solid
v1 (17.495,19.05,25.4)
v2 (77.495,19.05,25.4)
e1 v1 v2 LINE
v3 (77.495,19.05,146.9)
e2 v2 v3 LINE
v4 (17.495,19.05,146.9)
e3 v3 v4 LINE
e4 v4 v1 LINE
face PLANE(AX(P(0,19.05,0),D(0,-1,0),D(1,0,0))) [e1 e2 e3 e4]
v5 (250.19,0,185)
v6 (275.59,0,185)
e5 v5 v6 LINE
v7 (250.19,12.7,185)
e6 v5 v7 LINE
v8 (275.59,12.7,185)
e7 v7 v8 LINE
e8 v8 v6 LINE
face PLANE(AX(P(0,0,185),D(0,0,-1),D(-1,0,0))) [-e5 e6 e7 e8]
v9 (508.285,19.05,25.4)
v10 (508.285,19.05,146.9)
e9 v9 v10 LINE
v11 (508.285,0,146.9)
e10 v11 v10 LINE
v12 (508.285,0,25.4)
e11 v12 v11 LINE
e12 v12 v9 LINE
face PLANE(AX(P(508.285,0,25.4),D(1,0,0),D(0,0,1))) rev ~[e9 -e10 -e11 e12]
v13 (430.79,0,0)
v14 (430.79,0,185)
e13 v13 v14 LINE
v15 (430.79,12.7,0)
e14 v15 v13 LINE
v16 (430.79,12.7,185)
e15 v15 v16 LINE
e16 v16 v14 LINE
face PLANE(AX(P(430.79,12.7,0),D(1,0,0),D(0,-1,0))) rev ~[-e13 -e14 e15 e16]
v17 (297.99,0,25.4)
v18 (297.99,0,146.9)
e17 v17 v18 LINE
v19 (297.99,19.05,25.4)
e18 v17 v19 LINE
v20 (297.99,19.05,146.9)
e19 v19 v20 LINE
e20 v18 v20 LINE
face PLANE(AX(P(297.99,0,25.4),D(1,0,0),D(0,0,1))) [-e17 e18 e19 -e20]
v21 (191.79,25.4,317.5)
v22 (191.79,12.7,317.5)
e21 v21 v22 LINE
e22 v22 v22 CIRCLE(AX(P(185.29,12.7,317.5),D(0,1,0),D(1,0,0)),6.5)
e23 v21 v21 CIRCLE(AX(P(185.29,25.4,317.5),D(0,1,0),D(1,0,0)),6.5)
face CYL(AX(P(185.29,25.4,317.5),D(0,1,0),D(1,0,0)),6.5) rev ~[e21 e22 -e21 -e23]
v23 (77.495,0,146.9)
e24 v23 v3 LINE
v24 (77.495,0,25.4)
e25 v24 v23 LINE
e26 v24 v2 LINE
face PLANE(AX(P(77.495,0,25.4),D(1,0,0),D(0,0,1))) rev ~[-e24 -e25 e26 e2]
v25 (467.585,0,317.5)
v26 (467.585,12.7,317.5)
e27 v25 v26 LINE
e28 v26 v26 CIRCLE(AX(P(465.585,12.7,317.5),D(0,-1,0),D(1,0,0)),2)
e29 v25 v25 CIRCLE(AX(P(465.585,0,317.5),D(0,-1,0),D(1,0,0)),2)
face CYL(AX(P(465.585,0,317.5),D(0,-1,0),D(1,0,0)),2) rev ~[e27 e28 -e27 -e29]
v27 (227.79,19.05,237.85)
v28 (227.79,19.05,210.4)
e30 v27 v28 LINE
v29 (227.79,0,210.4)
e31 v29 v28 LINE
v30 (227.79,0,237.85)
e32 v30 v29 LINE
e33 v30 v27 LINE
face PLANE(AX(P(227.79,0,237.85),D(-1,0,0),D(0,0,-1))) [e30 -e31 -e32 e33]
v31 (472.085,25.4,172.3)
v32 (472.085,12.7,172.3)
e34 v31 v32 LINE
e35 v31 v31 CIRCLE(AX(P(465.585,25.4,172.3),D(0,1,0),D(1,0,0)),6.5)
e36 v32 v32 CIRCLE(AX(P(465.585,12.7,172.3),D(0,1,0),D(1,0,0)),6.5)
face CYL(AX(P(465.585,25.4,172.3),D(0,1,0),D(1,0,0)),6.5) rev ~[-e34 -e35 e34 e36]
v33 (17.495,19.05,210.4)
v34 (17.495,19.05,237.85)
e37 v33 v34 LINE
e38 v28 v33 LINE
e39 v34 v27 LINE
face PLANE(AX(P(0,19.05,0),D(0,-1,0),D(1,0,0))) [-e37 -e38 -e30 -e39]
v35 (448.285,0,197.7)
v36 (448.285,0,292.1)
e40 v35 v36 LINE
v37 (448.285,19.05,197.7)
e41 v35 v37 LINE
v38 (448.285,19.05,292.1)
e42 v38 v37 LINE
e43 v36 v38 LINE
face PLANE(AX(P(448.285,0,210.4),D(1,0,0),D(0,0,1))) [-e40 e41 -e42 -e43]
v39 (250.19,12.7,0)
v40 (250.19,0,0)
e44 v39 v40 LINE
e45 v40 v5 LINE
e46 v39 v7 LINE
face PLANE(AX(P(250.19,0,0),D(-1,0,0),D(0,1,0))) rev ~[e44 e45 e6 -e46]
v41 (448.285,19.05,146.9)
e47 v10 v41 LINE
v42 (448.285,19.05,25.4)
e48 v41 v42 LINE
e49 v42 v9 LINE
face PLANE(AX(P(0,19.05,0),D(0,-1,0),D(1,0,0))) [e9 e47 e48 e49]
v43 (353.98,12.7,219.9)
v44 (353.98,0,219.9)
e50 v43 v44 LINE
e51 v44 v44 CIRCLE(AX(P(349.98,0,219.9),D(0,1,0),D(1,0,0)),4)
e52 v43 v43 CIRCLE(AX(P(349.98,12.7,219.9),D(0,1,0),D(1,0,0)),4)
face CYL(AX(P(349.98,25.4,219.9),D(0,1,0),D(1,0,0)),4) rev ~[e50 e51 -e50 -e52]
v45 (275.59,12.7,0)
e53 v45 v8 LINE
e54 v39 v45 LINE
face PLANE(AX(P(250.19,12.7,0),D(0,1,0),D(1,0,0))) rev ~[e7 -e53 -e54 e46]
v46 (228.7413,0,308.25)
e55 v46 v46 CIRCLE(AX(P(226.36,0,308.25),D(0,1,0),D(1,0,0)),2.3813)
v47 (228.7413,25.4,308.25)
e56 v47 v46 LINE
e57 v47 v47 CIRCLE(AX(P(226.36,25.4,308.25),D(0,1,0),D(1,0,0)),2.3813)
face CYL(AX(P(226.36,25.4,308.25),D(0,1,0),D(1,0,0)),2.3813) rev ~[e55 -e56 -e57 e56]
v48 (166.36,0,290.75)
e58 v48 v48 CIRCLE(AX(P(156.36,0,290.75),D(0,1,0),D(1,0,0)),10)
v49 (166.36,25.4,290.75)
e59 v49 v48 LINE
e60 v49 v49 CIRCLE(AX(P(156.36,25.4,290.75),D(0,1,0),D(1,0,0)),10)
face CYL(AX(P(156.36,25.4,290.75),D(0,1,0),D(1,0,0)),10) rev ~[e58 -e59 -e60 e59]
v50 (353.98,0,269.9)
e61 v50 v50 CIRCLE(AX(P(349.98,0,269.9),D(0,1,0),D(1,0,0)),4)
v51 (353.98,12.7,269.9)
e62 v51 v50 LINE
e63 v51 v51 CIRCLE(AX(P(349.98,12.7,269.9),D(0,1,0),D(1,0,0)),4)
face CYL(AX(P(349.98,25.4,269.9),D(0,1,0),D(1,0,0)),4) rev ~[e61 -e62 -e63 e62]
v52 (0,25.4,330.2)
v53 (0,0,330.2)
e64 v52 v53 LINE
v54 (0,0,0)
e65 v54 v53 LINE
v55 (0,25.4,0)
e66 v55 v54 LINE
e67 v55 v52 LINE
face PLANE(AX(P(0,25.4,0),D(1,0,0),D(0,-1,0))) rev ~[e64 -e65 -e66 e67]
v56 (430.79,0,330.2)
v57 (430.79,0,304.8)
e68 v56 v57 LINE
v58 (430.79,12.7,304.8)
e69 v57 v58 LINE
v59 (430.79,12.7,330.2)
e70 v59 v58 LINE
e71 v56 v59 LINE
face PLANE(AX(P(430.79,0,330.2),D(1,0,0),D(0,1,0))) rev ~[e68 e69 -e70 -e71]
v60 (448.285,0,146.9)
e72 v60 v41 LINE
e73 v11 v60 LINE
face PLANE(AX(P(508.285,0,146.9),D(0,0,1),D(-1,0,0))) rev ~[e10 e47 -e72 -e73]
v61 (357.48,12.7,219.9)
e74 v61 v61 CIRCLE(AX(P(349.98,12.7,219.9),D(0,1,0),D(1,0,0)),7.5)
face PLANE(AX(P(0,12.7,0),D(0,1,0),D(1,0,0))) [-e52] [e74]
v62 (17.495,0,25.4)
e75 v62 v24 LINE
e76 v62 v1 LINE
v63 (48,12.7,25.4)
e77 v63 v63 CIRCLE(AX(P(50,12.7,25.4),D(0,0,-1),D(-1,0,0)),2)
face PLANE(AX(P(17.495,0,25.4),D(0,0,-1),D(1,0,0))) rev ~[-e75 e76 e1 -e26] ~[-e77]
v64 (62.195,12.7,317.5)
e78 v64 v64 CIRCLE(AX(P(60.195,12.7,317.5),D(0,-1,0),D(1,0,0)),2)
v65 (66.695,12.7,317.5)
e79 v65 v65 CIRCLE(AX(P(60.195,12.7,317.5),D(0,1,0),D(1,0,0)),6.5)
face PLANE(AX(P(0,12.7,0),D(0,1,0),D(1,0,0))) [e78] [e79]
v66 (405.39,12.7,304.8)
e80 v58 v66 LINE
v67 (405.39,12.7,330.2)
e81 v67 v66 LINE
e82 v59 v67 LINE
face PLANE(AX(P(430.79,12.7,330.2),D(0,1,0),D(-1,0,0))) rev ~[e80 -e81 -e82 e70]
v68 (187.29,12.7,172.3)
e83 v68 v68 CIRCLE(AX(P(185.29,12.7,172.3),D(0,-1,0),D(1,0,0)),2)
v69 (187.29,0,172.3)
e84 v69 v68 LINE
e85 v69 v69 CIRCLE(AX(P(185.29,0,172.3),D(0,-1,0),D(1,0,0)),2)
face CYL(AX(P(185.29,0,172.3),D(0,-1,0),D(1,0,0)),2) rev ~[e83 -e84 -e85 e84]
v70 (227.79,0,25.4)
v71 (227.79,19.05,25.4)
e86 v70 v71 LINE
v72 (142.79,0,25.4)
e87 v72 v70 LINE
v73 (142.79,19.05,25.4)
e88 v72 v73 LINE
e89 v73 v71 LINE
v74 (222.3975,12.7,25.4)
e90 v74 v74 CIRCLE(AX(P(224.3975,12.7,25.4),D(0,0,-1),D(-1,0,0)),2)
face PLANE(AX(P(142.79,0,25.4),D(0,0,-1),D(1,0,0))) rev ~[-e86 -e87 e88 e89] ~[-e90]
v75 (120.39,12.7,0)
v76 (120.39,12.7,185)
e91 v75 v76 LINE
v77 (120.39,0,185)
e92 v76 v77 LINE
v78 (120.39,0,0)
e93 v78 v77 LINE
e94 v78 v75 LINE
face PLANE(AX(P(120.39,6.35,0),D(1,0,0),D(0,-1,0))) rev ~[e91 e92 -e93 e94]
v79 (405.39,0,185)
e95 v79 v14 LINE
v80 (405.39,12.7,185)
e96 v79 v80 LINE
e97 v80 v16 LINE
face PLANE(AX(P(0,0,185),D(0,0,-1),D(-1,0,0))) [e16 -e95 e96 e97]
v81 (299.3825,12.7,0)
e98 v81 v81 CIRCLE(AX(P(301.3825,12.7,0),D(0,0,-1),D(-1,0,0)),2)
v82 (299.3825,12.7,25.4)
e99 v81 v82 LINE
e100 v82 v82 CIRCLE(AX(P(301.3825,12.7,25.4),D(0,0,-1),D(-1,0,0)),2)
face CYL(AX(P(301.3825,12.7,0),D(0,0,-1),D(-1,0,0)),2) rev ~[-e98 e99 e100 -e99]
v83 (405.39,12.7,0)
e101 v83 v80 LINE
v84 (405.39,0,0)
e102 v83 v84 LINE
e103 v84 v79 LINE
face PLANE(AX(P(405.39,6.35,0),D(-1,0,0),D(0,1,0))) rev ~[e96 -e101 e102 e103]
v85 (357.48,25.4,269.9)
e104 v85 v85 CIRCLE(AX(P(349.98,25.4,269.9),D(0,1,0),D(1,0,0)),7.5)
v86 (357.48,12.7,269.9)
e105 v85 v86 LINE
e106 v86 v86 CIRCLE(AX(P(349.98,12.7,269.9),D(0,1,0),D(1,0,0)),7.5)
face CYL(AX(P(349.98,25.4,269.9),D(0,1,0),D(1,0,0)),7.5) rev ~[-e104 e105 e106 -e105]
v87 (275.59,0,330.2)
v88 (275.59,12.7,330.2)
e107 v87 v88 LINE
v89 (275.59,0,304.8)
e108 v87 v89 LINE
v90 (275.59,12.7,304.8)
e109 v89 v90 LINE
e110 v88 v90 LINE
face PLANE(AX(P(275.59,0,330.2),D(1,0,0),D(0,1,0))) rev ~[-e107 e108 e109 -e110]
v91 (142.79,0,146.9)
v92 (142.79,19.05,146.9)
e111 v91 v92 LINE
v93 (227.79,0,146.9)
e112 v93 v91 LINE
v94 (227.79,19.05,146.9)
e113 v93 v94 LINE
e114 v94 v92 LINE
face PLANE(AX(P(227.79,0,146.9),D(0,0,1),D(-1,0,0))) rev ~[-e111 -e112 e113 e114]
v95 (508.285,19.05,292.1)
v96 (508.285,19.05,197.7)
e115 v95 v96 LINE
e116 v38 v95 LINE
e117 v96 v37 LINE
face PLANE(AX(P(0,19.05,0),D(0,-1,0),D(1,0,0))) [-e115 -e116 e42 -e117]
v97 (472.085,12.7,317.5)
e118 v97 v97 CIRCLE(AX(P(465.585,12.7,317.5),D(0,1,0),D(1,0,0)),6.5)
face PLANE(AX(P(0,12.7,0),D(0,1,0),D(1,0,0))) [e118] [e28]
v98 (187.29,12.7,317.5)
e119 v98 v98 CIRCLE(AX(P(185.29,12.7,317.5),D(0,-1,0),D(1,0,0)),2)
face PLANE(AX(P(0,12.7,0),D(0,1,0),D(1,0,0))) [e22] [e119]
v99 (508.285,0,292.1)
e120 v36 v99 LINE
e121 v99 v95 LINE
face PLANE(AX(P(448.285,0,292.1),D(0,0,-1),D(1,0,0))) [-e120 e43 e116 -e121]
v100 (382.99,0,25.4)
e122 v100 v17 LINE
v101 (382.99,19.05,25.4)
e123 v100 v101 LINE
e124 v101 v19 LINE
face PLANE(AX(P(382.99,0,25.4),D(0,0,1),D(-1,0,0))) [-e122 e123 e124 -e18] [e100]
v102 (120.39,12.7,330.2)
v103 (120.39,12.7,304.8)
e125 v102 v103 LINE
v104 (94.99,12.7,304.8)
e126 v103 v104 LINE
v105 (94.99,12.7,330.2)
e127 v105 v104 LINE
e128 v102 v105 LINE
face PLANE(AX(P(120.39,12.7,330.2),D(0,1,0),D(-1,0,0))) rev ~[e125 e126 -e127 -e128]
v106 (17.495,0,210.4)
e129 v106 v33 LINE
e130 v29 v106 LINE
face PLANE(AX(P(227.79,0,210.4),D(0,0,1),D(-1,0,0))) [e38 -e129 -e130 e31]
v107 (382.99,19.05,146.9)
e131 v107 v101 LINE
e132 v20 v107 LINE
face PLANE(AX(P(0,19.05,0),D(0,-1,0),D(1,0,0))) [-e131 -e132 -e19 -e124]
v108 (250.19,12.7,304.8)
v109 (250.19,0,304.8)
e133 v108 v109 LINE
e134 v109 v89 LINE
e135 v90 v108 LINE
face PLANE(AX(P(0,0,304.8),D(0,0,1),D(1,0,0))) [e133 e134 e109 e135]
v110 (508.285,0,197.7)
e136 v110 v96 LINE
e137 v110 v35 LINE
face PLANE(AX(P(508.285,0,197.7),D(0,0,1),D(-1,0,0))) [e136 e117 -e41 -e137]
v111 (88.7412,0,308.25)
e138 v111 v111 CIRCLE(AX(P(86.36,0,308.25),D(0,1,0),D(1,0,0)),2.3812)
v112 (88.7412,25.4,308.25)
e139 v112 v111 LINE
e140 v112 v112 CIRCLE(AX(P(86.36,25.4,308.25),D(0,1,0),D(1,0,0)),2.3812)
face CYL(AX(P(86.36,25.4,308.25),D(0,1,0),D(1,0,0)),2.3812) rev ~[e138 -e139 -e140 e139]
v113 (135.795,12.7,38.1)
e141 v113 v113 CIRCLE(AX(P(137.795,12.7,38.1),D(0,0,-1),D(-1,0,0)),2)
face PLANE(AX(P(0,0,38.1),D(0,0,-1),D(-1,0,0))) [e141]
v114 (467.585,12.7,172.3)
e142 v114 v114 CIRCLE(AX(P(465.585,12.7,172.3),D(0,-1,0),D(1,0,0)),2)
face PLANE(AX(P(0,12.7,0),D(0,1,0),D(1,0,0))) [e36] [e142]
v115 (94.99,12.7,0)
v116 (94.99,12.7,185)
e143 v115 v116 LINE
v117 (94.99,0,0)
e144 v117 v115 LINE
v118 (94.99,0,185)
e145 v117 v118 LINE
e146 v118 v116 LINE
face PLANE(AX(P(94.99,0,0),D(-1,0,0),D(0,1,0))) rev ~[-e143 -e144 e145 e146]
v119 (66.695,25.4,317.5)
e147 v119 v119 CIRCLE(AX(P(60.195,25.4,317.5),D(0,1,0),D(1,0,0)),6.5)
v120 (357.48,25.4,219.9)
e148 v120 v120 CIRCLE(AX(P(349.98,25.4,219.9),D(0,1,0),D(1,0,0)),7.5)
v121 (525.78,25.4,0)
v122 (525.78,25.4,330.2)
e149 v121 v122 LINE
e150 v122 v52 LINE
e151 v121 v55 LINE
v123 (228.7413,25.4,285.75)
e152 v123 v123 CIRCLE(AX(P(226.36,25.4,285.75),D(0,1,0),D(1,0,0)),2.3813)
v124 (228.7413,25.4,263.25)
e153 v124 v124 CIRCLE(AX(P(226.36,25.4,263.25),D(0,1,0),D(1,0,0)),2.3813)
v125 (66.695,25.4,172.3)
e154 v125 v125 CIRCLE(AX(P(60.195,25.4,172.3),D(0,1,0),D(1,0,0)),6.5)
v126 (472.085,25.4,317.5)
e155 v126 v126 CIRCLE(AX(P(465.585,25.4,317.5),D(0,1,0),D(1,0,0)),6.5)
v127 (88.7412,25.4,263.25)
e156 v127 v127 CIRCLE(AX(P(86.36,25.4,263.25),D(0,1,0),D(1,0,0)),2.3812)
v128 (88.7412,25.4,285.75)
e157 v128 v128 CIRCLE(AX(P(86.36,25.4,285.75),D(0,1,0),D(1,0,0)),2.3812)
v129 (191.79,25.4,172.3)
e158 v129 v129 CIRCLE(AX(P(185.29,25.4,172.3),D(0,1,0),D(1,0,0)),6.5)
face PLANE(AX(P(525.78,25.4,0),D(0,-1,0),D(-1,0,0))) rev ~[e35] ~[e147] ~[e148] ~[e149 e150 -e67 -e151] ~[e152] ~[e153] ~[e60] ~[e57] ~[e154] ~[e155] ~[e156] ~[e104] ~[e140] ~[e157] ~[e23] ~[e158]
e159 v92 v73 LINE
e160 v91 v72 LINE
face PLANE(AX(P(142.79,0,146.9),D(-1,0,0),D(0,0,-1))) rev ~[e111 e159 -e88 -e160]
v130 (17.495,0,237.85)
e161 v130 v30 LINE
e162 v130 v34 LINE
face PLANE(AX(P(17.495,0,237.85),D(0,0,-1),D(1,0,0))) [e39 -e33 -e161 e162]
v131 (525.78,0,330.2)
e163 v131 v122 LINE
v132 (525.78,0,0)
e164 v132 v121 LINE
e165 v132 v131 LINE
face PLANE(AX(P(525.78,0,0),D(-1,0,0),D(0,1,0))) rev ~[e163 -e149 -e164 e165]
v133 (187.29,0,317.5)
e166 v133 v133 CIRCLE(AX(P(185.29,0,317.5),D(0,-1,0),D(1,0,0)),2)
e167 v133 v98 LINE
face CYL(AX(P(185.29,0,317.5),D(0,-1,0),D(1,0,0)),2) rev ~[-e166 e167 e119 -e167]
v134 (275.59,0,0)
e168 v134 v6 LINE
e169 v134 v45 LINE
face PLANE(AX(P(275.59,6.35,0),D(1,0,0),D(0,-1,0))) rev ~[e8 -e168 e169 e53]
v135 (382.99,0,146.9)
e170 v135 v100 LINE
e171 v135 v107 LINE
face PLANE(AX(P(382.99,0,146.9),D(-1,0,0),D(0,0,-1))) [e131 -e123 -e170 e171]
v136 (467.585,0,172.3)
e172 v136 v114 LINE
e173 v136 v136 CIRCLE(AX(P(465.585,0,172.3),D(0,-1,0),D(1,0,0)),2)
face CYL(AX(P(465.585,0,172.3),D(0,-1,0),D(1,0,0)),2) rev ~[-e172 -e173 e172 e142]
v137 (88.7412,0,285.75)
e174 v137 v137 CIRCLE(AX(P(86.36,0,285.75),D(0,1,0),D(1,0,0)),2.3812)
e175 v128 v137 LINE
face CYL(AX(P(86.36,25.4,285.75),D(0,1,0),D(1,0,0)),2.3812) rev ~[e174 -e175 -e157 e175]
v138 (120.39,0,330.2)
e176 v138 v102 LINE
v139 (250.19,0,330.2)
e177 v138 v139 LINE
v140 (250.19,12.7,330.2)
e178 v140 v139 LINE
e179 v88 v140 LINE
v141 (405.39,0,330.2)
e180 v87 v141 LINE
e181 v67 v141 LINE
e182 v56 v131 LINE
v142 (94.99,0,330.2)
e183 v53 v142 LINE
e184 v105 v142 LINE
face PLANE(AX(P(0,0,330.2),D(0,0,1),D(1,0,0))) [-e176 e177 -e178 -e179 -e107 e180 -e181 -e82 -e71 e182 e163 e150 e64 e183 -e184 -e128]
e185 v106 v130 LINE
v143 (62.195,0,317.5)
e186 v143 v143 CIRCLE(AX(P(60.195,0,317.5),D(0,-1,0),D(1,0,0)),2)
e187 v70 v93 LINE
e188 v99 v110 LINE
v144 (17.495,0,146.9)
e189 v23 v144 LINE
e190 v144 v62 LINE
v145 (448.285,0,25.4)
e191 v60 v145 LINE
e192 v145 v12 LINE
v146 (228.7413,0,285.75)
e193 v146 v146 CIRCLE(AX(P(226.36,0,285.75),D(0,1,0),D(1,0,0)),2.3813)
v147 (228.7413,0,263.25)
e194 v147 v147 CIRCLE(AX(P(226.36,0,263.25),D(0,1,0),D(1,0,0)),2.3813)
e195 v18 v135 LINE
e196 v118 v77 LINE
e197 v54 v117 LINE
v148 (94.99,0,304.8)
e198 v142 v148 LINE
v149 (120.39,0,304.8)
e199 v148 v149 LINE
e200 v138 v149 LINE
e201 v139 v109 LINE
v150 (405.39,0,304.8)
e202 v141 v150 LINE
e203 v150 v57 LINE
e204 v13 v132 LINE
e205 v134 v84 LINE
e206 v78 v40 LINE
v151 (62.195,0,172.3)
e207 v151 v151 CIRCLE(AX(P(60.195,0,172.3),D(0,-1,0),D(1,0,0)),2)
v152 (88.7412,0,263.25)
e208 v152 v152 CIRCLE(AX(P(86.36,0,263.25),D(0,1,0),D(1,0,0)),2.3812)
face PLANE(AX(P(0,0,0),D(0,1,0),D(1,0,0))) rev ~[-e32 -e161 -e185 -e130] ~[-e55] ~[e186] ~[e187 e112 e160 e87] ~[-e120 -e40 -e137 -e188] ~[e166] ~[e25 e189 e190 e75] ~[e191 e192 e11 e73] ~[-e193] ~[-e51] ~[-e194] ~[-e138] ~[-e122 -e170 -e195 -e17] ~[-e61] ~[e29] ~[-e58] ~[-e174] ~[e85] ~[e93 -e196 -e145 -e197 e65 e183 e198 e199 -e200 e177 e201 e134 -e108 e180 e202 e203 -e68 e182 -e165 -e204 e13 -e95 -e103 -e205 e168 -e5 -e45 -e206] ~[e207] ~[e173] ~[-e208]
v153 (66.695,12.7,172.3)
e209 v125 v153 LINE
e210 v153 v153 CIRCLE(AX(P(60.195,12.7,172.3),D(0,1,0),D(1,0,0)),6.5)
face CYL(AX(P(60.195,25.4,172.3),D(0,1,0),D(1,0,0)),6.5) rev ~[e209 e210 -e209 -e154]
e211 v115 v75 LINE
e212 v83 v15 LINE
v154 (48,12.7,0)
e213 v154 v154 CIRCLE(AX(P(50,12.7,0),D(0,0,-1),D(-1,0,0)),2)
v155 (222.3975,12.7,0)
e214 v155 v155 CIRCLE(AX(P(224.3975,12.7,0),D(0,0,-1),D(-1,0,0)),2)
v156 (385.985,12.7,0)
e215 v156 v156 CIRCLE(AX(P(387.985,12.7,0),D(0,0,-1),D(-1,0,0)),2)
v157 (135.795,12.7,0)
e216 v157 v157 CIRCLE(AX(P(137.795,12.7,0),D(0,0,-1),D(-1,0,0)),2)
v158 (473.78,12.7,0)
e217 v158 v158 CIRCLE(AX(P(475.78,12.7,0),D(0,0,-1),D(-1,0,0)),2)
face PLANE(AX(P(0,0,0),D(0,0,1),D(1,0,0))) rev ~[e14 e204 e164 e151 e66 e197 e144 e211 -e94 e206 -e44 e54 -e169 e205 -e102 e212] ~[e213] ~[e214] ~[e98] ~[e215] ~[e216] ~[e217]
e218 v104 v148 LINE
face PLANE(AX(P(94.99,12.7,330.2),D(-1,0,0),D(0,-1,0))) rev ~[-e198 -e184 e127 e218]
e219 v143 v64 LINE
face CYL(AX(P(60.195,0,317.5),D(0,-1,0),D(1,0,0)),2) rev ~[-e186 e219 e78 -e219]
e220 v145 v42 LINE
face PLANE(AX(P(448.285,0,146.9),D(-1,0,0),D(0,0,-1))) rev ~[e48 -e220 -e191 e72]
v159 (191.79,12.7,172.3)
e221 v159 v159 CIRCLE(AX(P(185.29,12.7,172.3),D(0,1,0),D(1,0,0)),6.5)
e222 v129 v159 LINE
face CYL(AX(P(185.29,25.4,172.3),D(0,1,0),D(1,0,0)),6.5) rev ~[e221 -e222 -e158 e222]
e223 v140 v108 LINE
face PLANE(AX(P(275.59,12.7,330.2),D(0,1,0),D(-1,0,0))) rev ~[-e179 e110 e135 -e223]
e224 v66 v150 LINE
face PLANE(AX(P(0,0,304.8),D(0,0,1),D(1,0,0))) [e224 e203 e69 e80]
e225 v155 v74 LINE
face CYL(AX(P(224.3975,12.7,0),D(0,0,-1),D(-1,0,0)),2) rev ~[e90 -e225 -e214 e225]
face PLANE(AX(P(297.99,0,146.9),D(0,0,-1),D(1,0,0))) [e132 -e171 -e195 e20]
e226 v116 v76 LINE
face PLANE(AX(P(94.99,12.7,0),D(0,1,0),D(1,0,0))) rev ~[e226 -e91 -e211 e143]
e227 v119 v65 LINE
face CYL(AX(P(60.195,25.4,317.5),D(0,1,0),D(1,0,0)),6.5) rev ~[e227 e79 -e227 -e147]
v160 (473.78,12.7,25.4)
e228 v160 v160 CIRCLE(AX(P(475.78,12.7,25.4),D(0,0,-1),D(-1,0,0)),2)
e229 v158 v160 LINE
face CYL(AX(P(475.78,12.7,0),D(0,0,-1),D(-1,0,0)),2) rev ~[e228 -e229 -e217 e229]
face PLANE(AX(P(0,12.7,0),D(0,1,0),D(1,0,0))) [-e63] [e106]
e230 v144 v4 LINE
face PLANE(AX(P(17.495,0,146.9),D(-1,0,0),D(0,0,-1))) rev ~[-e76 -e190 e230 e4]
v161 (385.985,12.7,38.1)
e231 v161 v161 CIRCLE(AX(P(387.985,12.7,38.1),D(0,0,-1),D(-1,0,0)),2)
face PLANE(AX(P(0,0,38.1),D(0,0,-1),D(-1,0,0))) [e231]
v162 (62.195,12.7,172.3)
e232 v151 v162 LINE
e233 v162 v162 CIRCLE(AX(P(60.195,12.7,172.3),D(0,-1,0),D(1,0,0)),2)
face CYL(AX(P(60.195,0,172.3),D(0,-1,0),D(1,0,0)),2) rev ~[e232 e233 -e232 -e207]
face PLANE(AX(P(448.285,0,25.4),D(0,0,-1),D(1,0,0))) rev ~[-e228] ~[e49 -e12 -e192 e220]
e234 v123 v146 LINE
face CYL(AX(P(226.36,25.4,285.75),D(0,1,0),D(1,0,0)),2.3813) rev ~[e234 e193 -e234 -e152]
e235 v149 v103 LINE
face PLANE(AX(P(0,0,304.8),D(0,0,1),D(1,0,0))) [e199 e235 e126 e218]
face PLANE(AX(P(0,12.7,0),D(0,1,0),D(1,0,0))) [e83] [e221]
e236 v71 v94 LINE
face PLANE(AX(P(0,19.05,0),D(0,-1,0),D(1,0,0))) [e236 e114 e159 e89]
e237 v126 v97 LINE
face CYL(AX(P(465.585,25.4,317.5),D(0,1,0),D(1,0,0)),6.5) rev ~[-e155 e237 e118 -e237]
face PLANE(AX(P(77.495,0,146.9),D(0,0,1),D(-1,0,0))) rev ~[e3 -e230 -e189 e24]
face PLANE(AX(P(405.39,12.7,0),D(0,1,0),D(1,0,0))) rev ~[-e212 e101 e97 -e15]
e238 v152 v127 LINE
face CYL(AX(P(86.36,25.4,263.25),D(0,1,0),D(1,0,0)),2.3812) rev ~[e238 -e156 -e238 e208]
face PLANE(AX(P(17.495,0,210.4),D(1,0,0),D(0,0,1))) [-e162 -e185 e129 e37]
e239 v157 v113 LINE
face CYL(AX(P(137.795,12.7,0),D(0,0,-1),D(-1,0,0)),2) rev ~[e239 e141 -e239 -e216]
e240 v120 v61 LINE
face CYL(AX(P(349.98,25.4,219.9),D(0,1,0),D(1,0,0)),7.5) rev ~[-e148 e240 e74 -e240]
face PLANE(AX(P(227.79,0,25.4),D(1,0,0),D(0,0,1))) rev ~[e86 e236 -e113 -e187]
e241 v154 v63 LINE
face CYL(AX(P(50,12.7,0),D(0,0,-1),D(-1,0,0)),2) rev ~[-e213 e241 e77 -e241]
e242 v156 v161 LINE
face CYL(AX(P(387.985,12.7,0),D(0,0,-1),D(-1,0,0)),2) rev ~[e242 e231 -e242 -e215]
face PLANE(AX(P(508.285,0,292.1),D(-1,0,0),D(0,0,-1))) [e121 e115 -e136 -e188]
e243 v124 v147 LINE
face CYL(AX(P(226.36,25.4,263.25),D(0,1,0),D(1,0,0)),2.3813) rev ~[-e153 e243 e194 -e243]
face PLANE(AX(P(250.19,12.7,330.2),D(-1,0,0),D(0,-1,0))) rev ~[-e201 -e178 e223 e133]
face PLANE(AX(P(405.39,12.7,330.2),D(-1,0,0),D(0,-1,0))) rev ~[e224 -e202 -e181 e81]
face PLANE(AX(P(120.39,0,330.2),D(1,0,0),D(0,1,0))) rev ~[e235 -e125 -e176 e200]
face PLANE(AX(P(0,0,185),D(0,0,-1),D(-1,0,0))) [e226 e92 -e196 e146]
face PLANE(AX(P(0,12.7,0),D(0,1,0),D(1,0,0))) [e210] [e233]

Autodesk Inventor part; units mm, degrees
ref_plane "YZ Plane" through (0, 0, 0) normal (1, 0, 0) x (0, 1, 0)
ref_plane "XZ Plane" through (0, 0, 0) normal (0, 1, 0) x (-1, 0, 0)
ref_plane "XY Plane" through (0, 0, 0) normal (0, 0, 1) x (1, 0, 0)
sketch "Sketch1" plane through (0, 0, 0) normal (0, 0, 1) x (1, 0, 0)
  line L0 (0, 0) -> (525.78, 0)
  line L1 (525.78, 0) -> (525.78, 25.4)
  line L2 (525.78, 25.4) -> (0, 25.4)
  line L3 (0, 25.4) -> (0, 0)
  dimension "d0" = 525.78
  dimension "d1" = 25.4
extrude "Extrusion1" add sketch "Sketch1" along normal blind 330.2
sketch "Sketch3" plane through (0, 25.4, 0) normal (0, 1, 0) x (1, 0, 0)
  line L0 (0, -330.2) -> (525.78, -330.2) construction
  line L1 (525.78, -330.2) -> (525.78, -241.3)
  line L2 (525.78, -241.3) -> (0, -241.3) construction
  line L3 (0, -241.3) -> (0, -330.2) construction
  line L4 (86.36, -308.25) -> (86.36, -263.25) construction
  circle A0 centre (86.36, -285.75) radius 2.3812
  circle A1 centre (86.36, -308.25) radius 2.3812
  circle A2 centre (86.36, -263.25) radius 2.3812
  line L5 (146.36, -280.75) -> (146.36, -300.75) construction
  line L6 (156.36, -263.25) -> (156.36, -308.25) construction
  line L7 (146.36, -300.75) -> (166.36, -300.75) construction
  line L8 (166.36, -280.75) -> (146.36, -280.75) construction
  line L9 (86.36, -263.25) -> (226.36, -263.25) construction
  line L10 (226.36, -308.25) -> (86.36, -308.25) construction
  line L11 (86.36, -285.75) -> (226.36, -285.75) construction
  line L12 (166.36, -300.75) -> (166.36, -280.75) construction
  line L13 (226.36, -263.25) -> (226.36, -308.25) construction
  circle A3 centre (226.36, -263.25) radius 2.3813
  circle A4 centre (226.36, -285.75) radius 2.3813
  circle A5 centre (226.36, -308.25) radius 2.3813
  circle A6 centre (156.36, -290.75) radius 10
  line L14 (0, 0) -> (0, -330.2) projected
  point P0 (525.78, 0)
  point P1 (0, -285.75)
  point P2 (146.36, -290.75)
  point P3 (166.36, -290.75)
  dimension "d16" = 45
  dimension "d17" = 140
  dimension "d18" = 4.7625
  dimension "d19" = 4.7625
  dimension "d20" = 4.7625
  dimension "d21" = 4.7625
  dimension "d22" = 4.7625
  dimension "d23" = 4.7625
  dimension "d24" = 60
  dimension "d25" = 7.5
  dimension "d26" = 20
  dimension "d27" = 20
  dimension "d28" = 86.36
  dimension "d29" = 88.9
extrude "Extrusion3" cut sketch "Sketch3" against normal through all
sketch "Sketch6" plane through (0, 0, 0) normal (0, 0, -1) x (-1, 0, 0)
  line L0 (0, 0) -> (-525.78, 0) projected
  line L1 (0, 0) -> (-525.78, 0) projected
  line L2 (-275.59, 0) -> (-250.19, 0)
  line L3 (-250.19, 0) -> (-250.19, 12.7)
  line L4 (-250.19, 12.7) -> (-275.59, 12.7)
  line L5 (-275.59, 12.7) -> (-275.59, 0)
  line L6 (-430.79, 0) -> (-405.39, 0)
  line L7 (-405.39, 0) -> (-405.39, 12.7)
  line L8 (-405.39, 12.7) -> (-430.79, 12.7)
  line L9 (-430.79, 12.7) -> (-430.79, 0)
  line L10 (-120.39, 0) -> (-94.99, 0)
  line L11 (-94.99, 0) -> (-94.99, 12.7)
  line L12 (-94.99, 12.7) -> (-120.39, 12.7)
  line L13 (-120.39, 12.7) -> (-120.39, 0)
  line L14 (-120.39, 6.35) -> (-405.39, 6.35)
  point P0 (-262.89, 0)
  point P1 (-94.99, 6.35)
  point P2 (-262.89, 6.35)
  point P3 (-262.89, 0)
  dimension "d34" = 25.4
  dimension "d35" = 12.7
  dimension "d36" = 25.4
  dimension "d37" = 12.7
  dimension "d40" = 25.4
  dimension "d41" = 12.7
  dimension "d47" = 285
extrude "Extrusion5" cut sketch "Sketch6" against normal blind 185 contours L0 L13 L12 L11 | L0 L5 L14 L3 | L14 L5 L4 L3 | L0 L9 L8 L7
sketch "Sketch8" plane through (0, 0, 330.2) normal (0, 0, 1) x (1, 0, 0)
  line L0 (94.99, 0) -> (120.39, 0) projected
  line L1 (94.99, 12.7) -> (94.99, 0) projected
  line L2 (120.39, 12.7) -> (94.99, 12.7) projected
  line L3 (120.39, 0) -> (120.39, 12.7) projected
  line L4 (250.19, 0) -> (275.59, 0) projected
  line L5 (250.19, 12.7) -> (250.19, 0) projected
  line L6 (275.59, 12.7) -> (250.19, 12.7) projected
  line L7 (275.59, 0) -> (275.59, 12.7) projected
  line L8 (405.39, 0) -> (430.79, 0) projected
  line L9 (405.39, 12.7) -> (405.39, 0) projected
  line L10 (430.79, 12.7) -> (405.39, 12.7) projected
  line L11 (430.79, 0) -> (430.79, 12.7) projected
  point P0 (0, 0)
extrude "Extrusion6" cut sketch "Sketch8" against normal blind 25.4
sketch "Sketch11" plane through (0, 0, 0) normal (0, -1, 0) x (1, 0, 0)
  circle A0 centre (60.195, 317.5) radius 2
  circle A1 centre (185.29, 317.5) radius 2
  circle A2 centre (340.49, 317.5) radius 2
  circle A3 centre (465.585, 317.5) radius 2
  circle A4 centre (465.585, 172.3) radius 2
  circle A5 centre (340.49, 172.3) radius 2
  circle A6 centre (185.29, 172.3) radius 2
  circle A7 centre (60.195, 172.3) radius 2
  line L0 (0, 330.2) -> (94.99, 330.2) projected
  line L1 (120.39, 330.2) -> (250.19, 330.2) projected
  line L2 (275.59, 330.2) -> (405.39, 330.2) projected
  line L3 (430.79, 330.2) -> (525.78, 330.2) projected
  line L4 (120.39, 304.8) -> (94.99, 304.8) projected
  line L5 (94.99, 185) -> (120.39, 185) projected
  point P0 (0, 0)
  point P1 (185.29, 330.2)
  point P2 (340.49, 330.2)
  dimension "d57" = 4
  dimension "d58" = 4
  dimension "d59" = 4
  dimension "d60" = 4
  dimension "d61" = 4
  dimension "d62" = 4
  dimension "d63" = 4
  dimension "d64" = 4
  dimension "d65" = 12.7
  dimension "d66" = 12.7
  dimension "d69" = 60.195
  dimension "d70" = 60.195
extrude "Extrusion8" cut sketch "Sketch11" against normal through all contours A0 | A1 | A3 | A4 | A6 | A7
sketch "Sketch12" plane through (0, 25.4, 0) normal (0, 1, 0) x (1, 0, 0)
  circle A0 centre (60.195, -172.3) radius 2 projected
  circle A1 centre (185.29, -172.3) radius 2 projected
  circle A2 centre (465.585, -172.3) radius 2 projected
  circle A3 centre (465.585, -317.5) radius 2 projected
  circle A4 centre (185.29, -317.5) radius 2 projected
  circle A5 centre (60.195, -317.5) radius 2 projected
  circle A6 centre (60.195, -172.3) radius 2 projected
  circle A7 centre (60.195, -172.3) radius 6.5
  circle A8 centre (60.195, -317.5) radius 2 projected
  circle A9 centre (60.195, -317.5) radius 6.5
  circle A10 centre (185.29, -317.5) radius 2 projected
  circle A11 centre (185.29, -317.5) radius 6.5
  circle A12 centre (185.29, -172.3) radius 2 projected
  circle A13 centre (185.29, -172.3) radius 6.5
  circle A14 centre (465.585, -317.5) radius 6.5
  circle A15 centre (465.585, -172.3) radius 2 projected
  circle A16 centre (465.585, -172.3) radius 6.5
  point P0 (0, 0)
  dimension "d71" = 13
  dimension "d72" = 13
  dimension "d73" = 13
  dimension "d74" = 13
  dimension "d75" = 13
  dimension "d76" = 13
extrude "Extrusion9" cut sketch "Sketch12" against normal blind 12.7 contours A0 | A1 | A2 | A3 | A4 | A5 | A7 | A9 | A11 | A13 | A14 | A16
sketch "Sketch13" plane through (0, 25.4, 0) normal (0, 1, 0) x (1, 0, 0)
  circle A0 centre (349.98, -219.9) radius 4
  circle A1 centre (349.98, -269.9) radius 4
  line L0 (525.78, 0) -> (525.78, -330.2) projected
  line L1 (525.78, -330.2) -> (0, -330.2) projected
  point P0 (0, 0)
  dimension "d86" = 8
  dimension "d87" = 8
  dimension "d88" = 175.8
  dimension "d89" = 60.3
  dimension "d90" = 50
extrude "Extrusion10" cut sketch "Sketch13" against normal through all
sketch "Sketch14" plane through (0, 25.4, 0) normal (0, 1, 0) x (1, 0, 0)
  circle A0 centre (349.98, -219.9) radius 4 projected
  circle A1 centre (349.98, -269.9) radius 4 projected
  circle A2 centre (349.98, -219.9) radius 7.5
  circle A3 centre (349.98, -269.9) radius 7.5
  point P0 (0, 0)
  dimension "d93" = 15
  dimension "d94" = 15
extrude "Extrusion11" cut sketch "Sketch14" against normal blind 12.7 contours A0 | A1 | A2 | A3
sketch "Sketch9" plane through (0, 0, 0) normal (0, -1, 0) x (1, 0, 0)
  line L0 (297.99, 146.9) -> (382.99, 146.9)
  line L1 (382.99, 146.9) -> (382.99, 25.4)
  line L2 (382.99, 25.4) -> (297.99, 25.4)
  line L3 (297.99, 25.4) -> (297.99, 146.9)
  line L4 (448.285, 25.4) -> (508.285, 25.4)
  line L5 (508.285, 25.4) -> (508.285, 146.9)
  line L6 (508.285, 146.9) -> (448.285, 146.9)
  line L7 (448.285, 146.9) -> (448.285, 25.4)
  line L8 (142.79, 25.4) -> (227.79, 25.4)
  line L9 (227.79, 25.4) -> (227.79, 146.9)
  line L10 (227.79, 146.9) -> (142.79, 146.9)
  line L11 (142.79, 146.9) -> (142.79, 25.4)
  line L12 (17.495, 25.4) -> (77.495, 25.4)
  line L13 (77.495, 25.4) -> (77.495, 146.9)
  line L14 (77.495, 146.9) -> (17.495, 146.9)
  line L15 (17.495, 146.9) -> (17.495, 25.4)
  line L16 (430.79, 330.2) -> (525.78, 330.2) projected
  line L17 (275.59, 330.2) -> (405.39, 330.2) projected
  line L18 (120.39, 0) -> (250.19, 0) projected
  line L19 (0, 0) -> (94.99, 0) projected
  line L20 (430.79, 0) -> (525.78, 0) projected
  circle A0 centre (86.36, 263.25) radius 2.3812 projected
  circle A1 centre (465.585, 172.3) radius 2 construction
  circle A2 centre (465.585, 317.5) radius 2 construction
  line L21 (508.285, 197.7) -> (448.285, 197.7)
  line L22 (448.285, 197.7) -> (448.285, 292.1)
  line L23 (448.285, 292.1) -> (508.285, 292.1)
  line L24 (508.285, 292.1) -> (508.285, 197.7)
  line L25 (382.99, 146.9) -> (297.99, 146.9)
  line L26 (297.99, 146.9) -> (297.99, 292.1)
  line L27 (297.99, 292.1) -> (382.99, 292.1)
  line L28 (382.99, 292.1) -> (382.99, 146.9)
  line L29 (227.79, 210.4) -> (17.495, 210.4)
  line L30 (17.495, 210.4) -> (17.495, 237.85)
  line L31 (17.495, 237.85) -> (227.79, 237.85)
  line L32 (227.79, 237.85) -> (227.79, 210.4)
  line L33 (94.99, 185) -> (120.39, 185) projected
  line L34 (448.285, 210.4) -> (382.99, 210.4)
  line L35 (382.99, 210.4) -> (382.99, 279.4)
  line L36 (382.99, 279.4) -> (448.285, 279.4)
  line L37 (448.285, 279.4) -> (448.285, 210.4)
  line L38 (430.79, 185) -> (405.39, 185) projected
  line L39 (405.39, 304.8) -> (430.79, 304.8) projected
  line L40 (227.79, 210.4) -> (297.99, 210.4)
  line L41 (297.99, 210.4) -> (297.99, 237.85)
  line L42 (297.99, 237.85) -> (227.79, 237.85)
  line L43 (227.79, 237.85) -> (227.79, 210.4)
  point P0 (478.285, 146.9)
  point P1 (478.285, 330.2)
  point P2 (340.49, 146.9)
  point P3 (340.49, 330.2)
  point P4 (185.29, 25.4)
  point P5 (185.29, 0)
  point P6 (47.495, 25.4)
  point P7 (47.495, 0)
  dimension "d48" = 60
  dimension "d49" = 60
  dimension "d50" = 85
  dimension "d51" = 85
  dimension "d53" = 25.4
  dimension "d79" = 25.4
  dimension "d80" = 25.4
  dimension "d81" = 25.4
  dimension "d82" = 25.4
  dimension "d83" = 25.4
  dimension "d84" = 25.4
  dimension "d85" = 25.4
extrude "Extrusion7" cut sketch "Sketch9" against normal blind 19.05 contours L0 L1 L2 L3 | L29 L30 L31 L32 | L22 L23 L24 L21 | L7 L6 L5 L4 | L11 L10 L9 L8 | L15 L14 L13 L12 | A0
sketch "Sketch15" plane through (0, 0, 0) normal (0, 0, -1) x (-1, 0, 0)
  circle A0 centre (-137.795, 12.7) radius 2
  circle A1 centre (-224.3975, 12.7) radius 2
  line L0 (0, 25.4) -> (0, 0) projected
  line L1 (-525.78, 25.4) -> (0, 25.4) projected
  line L2 (-262.89, 25.4) -> (-262.89, -36.2644)
  circle A2 centre (-387.985, 12.7) radius 2
  circle A3 centre (-301.3825, 12.7) radius 2
  point P0 (0, 12.7)
  dimension "d97" = 4
  dimension "d98" = 4
  dimension "d99" = 86.6025
  dimension "d100" = 137.795
extrude "Extrusion12" cut sketch "Sketch15" against normal blind 38.1
sketch "Sketch16" plane through (0, 0, 0) normal (0, 0, -1) x (-1, 0, 0)
  circle A0 centre (-50, 12.7) radius 2
  line L0 (0, 25.4) -> (0, 0) projected
  circle A1 centre (-475.78, 12.7) radius 2
  line L1 (-525.78, 0) -> (-525.78, 25.4) projected
  point P0 (0, 12.7)
  point P1 (-525.78, 12.7)
  dimension "d103" = 4
  dimension "d104" = 50
  dimension "d105" = 4
  dimension "d106" = 50
extrude "Extrusion13" cut sketch "Sketch16" against normal blind 38.1
properties part number "HB03" material "Polyethylene, High Density"
